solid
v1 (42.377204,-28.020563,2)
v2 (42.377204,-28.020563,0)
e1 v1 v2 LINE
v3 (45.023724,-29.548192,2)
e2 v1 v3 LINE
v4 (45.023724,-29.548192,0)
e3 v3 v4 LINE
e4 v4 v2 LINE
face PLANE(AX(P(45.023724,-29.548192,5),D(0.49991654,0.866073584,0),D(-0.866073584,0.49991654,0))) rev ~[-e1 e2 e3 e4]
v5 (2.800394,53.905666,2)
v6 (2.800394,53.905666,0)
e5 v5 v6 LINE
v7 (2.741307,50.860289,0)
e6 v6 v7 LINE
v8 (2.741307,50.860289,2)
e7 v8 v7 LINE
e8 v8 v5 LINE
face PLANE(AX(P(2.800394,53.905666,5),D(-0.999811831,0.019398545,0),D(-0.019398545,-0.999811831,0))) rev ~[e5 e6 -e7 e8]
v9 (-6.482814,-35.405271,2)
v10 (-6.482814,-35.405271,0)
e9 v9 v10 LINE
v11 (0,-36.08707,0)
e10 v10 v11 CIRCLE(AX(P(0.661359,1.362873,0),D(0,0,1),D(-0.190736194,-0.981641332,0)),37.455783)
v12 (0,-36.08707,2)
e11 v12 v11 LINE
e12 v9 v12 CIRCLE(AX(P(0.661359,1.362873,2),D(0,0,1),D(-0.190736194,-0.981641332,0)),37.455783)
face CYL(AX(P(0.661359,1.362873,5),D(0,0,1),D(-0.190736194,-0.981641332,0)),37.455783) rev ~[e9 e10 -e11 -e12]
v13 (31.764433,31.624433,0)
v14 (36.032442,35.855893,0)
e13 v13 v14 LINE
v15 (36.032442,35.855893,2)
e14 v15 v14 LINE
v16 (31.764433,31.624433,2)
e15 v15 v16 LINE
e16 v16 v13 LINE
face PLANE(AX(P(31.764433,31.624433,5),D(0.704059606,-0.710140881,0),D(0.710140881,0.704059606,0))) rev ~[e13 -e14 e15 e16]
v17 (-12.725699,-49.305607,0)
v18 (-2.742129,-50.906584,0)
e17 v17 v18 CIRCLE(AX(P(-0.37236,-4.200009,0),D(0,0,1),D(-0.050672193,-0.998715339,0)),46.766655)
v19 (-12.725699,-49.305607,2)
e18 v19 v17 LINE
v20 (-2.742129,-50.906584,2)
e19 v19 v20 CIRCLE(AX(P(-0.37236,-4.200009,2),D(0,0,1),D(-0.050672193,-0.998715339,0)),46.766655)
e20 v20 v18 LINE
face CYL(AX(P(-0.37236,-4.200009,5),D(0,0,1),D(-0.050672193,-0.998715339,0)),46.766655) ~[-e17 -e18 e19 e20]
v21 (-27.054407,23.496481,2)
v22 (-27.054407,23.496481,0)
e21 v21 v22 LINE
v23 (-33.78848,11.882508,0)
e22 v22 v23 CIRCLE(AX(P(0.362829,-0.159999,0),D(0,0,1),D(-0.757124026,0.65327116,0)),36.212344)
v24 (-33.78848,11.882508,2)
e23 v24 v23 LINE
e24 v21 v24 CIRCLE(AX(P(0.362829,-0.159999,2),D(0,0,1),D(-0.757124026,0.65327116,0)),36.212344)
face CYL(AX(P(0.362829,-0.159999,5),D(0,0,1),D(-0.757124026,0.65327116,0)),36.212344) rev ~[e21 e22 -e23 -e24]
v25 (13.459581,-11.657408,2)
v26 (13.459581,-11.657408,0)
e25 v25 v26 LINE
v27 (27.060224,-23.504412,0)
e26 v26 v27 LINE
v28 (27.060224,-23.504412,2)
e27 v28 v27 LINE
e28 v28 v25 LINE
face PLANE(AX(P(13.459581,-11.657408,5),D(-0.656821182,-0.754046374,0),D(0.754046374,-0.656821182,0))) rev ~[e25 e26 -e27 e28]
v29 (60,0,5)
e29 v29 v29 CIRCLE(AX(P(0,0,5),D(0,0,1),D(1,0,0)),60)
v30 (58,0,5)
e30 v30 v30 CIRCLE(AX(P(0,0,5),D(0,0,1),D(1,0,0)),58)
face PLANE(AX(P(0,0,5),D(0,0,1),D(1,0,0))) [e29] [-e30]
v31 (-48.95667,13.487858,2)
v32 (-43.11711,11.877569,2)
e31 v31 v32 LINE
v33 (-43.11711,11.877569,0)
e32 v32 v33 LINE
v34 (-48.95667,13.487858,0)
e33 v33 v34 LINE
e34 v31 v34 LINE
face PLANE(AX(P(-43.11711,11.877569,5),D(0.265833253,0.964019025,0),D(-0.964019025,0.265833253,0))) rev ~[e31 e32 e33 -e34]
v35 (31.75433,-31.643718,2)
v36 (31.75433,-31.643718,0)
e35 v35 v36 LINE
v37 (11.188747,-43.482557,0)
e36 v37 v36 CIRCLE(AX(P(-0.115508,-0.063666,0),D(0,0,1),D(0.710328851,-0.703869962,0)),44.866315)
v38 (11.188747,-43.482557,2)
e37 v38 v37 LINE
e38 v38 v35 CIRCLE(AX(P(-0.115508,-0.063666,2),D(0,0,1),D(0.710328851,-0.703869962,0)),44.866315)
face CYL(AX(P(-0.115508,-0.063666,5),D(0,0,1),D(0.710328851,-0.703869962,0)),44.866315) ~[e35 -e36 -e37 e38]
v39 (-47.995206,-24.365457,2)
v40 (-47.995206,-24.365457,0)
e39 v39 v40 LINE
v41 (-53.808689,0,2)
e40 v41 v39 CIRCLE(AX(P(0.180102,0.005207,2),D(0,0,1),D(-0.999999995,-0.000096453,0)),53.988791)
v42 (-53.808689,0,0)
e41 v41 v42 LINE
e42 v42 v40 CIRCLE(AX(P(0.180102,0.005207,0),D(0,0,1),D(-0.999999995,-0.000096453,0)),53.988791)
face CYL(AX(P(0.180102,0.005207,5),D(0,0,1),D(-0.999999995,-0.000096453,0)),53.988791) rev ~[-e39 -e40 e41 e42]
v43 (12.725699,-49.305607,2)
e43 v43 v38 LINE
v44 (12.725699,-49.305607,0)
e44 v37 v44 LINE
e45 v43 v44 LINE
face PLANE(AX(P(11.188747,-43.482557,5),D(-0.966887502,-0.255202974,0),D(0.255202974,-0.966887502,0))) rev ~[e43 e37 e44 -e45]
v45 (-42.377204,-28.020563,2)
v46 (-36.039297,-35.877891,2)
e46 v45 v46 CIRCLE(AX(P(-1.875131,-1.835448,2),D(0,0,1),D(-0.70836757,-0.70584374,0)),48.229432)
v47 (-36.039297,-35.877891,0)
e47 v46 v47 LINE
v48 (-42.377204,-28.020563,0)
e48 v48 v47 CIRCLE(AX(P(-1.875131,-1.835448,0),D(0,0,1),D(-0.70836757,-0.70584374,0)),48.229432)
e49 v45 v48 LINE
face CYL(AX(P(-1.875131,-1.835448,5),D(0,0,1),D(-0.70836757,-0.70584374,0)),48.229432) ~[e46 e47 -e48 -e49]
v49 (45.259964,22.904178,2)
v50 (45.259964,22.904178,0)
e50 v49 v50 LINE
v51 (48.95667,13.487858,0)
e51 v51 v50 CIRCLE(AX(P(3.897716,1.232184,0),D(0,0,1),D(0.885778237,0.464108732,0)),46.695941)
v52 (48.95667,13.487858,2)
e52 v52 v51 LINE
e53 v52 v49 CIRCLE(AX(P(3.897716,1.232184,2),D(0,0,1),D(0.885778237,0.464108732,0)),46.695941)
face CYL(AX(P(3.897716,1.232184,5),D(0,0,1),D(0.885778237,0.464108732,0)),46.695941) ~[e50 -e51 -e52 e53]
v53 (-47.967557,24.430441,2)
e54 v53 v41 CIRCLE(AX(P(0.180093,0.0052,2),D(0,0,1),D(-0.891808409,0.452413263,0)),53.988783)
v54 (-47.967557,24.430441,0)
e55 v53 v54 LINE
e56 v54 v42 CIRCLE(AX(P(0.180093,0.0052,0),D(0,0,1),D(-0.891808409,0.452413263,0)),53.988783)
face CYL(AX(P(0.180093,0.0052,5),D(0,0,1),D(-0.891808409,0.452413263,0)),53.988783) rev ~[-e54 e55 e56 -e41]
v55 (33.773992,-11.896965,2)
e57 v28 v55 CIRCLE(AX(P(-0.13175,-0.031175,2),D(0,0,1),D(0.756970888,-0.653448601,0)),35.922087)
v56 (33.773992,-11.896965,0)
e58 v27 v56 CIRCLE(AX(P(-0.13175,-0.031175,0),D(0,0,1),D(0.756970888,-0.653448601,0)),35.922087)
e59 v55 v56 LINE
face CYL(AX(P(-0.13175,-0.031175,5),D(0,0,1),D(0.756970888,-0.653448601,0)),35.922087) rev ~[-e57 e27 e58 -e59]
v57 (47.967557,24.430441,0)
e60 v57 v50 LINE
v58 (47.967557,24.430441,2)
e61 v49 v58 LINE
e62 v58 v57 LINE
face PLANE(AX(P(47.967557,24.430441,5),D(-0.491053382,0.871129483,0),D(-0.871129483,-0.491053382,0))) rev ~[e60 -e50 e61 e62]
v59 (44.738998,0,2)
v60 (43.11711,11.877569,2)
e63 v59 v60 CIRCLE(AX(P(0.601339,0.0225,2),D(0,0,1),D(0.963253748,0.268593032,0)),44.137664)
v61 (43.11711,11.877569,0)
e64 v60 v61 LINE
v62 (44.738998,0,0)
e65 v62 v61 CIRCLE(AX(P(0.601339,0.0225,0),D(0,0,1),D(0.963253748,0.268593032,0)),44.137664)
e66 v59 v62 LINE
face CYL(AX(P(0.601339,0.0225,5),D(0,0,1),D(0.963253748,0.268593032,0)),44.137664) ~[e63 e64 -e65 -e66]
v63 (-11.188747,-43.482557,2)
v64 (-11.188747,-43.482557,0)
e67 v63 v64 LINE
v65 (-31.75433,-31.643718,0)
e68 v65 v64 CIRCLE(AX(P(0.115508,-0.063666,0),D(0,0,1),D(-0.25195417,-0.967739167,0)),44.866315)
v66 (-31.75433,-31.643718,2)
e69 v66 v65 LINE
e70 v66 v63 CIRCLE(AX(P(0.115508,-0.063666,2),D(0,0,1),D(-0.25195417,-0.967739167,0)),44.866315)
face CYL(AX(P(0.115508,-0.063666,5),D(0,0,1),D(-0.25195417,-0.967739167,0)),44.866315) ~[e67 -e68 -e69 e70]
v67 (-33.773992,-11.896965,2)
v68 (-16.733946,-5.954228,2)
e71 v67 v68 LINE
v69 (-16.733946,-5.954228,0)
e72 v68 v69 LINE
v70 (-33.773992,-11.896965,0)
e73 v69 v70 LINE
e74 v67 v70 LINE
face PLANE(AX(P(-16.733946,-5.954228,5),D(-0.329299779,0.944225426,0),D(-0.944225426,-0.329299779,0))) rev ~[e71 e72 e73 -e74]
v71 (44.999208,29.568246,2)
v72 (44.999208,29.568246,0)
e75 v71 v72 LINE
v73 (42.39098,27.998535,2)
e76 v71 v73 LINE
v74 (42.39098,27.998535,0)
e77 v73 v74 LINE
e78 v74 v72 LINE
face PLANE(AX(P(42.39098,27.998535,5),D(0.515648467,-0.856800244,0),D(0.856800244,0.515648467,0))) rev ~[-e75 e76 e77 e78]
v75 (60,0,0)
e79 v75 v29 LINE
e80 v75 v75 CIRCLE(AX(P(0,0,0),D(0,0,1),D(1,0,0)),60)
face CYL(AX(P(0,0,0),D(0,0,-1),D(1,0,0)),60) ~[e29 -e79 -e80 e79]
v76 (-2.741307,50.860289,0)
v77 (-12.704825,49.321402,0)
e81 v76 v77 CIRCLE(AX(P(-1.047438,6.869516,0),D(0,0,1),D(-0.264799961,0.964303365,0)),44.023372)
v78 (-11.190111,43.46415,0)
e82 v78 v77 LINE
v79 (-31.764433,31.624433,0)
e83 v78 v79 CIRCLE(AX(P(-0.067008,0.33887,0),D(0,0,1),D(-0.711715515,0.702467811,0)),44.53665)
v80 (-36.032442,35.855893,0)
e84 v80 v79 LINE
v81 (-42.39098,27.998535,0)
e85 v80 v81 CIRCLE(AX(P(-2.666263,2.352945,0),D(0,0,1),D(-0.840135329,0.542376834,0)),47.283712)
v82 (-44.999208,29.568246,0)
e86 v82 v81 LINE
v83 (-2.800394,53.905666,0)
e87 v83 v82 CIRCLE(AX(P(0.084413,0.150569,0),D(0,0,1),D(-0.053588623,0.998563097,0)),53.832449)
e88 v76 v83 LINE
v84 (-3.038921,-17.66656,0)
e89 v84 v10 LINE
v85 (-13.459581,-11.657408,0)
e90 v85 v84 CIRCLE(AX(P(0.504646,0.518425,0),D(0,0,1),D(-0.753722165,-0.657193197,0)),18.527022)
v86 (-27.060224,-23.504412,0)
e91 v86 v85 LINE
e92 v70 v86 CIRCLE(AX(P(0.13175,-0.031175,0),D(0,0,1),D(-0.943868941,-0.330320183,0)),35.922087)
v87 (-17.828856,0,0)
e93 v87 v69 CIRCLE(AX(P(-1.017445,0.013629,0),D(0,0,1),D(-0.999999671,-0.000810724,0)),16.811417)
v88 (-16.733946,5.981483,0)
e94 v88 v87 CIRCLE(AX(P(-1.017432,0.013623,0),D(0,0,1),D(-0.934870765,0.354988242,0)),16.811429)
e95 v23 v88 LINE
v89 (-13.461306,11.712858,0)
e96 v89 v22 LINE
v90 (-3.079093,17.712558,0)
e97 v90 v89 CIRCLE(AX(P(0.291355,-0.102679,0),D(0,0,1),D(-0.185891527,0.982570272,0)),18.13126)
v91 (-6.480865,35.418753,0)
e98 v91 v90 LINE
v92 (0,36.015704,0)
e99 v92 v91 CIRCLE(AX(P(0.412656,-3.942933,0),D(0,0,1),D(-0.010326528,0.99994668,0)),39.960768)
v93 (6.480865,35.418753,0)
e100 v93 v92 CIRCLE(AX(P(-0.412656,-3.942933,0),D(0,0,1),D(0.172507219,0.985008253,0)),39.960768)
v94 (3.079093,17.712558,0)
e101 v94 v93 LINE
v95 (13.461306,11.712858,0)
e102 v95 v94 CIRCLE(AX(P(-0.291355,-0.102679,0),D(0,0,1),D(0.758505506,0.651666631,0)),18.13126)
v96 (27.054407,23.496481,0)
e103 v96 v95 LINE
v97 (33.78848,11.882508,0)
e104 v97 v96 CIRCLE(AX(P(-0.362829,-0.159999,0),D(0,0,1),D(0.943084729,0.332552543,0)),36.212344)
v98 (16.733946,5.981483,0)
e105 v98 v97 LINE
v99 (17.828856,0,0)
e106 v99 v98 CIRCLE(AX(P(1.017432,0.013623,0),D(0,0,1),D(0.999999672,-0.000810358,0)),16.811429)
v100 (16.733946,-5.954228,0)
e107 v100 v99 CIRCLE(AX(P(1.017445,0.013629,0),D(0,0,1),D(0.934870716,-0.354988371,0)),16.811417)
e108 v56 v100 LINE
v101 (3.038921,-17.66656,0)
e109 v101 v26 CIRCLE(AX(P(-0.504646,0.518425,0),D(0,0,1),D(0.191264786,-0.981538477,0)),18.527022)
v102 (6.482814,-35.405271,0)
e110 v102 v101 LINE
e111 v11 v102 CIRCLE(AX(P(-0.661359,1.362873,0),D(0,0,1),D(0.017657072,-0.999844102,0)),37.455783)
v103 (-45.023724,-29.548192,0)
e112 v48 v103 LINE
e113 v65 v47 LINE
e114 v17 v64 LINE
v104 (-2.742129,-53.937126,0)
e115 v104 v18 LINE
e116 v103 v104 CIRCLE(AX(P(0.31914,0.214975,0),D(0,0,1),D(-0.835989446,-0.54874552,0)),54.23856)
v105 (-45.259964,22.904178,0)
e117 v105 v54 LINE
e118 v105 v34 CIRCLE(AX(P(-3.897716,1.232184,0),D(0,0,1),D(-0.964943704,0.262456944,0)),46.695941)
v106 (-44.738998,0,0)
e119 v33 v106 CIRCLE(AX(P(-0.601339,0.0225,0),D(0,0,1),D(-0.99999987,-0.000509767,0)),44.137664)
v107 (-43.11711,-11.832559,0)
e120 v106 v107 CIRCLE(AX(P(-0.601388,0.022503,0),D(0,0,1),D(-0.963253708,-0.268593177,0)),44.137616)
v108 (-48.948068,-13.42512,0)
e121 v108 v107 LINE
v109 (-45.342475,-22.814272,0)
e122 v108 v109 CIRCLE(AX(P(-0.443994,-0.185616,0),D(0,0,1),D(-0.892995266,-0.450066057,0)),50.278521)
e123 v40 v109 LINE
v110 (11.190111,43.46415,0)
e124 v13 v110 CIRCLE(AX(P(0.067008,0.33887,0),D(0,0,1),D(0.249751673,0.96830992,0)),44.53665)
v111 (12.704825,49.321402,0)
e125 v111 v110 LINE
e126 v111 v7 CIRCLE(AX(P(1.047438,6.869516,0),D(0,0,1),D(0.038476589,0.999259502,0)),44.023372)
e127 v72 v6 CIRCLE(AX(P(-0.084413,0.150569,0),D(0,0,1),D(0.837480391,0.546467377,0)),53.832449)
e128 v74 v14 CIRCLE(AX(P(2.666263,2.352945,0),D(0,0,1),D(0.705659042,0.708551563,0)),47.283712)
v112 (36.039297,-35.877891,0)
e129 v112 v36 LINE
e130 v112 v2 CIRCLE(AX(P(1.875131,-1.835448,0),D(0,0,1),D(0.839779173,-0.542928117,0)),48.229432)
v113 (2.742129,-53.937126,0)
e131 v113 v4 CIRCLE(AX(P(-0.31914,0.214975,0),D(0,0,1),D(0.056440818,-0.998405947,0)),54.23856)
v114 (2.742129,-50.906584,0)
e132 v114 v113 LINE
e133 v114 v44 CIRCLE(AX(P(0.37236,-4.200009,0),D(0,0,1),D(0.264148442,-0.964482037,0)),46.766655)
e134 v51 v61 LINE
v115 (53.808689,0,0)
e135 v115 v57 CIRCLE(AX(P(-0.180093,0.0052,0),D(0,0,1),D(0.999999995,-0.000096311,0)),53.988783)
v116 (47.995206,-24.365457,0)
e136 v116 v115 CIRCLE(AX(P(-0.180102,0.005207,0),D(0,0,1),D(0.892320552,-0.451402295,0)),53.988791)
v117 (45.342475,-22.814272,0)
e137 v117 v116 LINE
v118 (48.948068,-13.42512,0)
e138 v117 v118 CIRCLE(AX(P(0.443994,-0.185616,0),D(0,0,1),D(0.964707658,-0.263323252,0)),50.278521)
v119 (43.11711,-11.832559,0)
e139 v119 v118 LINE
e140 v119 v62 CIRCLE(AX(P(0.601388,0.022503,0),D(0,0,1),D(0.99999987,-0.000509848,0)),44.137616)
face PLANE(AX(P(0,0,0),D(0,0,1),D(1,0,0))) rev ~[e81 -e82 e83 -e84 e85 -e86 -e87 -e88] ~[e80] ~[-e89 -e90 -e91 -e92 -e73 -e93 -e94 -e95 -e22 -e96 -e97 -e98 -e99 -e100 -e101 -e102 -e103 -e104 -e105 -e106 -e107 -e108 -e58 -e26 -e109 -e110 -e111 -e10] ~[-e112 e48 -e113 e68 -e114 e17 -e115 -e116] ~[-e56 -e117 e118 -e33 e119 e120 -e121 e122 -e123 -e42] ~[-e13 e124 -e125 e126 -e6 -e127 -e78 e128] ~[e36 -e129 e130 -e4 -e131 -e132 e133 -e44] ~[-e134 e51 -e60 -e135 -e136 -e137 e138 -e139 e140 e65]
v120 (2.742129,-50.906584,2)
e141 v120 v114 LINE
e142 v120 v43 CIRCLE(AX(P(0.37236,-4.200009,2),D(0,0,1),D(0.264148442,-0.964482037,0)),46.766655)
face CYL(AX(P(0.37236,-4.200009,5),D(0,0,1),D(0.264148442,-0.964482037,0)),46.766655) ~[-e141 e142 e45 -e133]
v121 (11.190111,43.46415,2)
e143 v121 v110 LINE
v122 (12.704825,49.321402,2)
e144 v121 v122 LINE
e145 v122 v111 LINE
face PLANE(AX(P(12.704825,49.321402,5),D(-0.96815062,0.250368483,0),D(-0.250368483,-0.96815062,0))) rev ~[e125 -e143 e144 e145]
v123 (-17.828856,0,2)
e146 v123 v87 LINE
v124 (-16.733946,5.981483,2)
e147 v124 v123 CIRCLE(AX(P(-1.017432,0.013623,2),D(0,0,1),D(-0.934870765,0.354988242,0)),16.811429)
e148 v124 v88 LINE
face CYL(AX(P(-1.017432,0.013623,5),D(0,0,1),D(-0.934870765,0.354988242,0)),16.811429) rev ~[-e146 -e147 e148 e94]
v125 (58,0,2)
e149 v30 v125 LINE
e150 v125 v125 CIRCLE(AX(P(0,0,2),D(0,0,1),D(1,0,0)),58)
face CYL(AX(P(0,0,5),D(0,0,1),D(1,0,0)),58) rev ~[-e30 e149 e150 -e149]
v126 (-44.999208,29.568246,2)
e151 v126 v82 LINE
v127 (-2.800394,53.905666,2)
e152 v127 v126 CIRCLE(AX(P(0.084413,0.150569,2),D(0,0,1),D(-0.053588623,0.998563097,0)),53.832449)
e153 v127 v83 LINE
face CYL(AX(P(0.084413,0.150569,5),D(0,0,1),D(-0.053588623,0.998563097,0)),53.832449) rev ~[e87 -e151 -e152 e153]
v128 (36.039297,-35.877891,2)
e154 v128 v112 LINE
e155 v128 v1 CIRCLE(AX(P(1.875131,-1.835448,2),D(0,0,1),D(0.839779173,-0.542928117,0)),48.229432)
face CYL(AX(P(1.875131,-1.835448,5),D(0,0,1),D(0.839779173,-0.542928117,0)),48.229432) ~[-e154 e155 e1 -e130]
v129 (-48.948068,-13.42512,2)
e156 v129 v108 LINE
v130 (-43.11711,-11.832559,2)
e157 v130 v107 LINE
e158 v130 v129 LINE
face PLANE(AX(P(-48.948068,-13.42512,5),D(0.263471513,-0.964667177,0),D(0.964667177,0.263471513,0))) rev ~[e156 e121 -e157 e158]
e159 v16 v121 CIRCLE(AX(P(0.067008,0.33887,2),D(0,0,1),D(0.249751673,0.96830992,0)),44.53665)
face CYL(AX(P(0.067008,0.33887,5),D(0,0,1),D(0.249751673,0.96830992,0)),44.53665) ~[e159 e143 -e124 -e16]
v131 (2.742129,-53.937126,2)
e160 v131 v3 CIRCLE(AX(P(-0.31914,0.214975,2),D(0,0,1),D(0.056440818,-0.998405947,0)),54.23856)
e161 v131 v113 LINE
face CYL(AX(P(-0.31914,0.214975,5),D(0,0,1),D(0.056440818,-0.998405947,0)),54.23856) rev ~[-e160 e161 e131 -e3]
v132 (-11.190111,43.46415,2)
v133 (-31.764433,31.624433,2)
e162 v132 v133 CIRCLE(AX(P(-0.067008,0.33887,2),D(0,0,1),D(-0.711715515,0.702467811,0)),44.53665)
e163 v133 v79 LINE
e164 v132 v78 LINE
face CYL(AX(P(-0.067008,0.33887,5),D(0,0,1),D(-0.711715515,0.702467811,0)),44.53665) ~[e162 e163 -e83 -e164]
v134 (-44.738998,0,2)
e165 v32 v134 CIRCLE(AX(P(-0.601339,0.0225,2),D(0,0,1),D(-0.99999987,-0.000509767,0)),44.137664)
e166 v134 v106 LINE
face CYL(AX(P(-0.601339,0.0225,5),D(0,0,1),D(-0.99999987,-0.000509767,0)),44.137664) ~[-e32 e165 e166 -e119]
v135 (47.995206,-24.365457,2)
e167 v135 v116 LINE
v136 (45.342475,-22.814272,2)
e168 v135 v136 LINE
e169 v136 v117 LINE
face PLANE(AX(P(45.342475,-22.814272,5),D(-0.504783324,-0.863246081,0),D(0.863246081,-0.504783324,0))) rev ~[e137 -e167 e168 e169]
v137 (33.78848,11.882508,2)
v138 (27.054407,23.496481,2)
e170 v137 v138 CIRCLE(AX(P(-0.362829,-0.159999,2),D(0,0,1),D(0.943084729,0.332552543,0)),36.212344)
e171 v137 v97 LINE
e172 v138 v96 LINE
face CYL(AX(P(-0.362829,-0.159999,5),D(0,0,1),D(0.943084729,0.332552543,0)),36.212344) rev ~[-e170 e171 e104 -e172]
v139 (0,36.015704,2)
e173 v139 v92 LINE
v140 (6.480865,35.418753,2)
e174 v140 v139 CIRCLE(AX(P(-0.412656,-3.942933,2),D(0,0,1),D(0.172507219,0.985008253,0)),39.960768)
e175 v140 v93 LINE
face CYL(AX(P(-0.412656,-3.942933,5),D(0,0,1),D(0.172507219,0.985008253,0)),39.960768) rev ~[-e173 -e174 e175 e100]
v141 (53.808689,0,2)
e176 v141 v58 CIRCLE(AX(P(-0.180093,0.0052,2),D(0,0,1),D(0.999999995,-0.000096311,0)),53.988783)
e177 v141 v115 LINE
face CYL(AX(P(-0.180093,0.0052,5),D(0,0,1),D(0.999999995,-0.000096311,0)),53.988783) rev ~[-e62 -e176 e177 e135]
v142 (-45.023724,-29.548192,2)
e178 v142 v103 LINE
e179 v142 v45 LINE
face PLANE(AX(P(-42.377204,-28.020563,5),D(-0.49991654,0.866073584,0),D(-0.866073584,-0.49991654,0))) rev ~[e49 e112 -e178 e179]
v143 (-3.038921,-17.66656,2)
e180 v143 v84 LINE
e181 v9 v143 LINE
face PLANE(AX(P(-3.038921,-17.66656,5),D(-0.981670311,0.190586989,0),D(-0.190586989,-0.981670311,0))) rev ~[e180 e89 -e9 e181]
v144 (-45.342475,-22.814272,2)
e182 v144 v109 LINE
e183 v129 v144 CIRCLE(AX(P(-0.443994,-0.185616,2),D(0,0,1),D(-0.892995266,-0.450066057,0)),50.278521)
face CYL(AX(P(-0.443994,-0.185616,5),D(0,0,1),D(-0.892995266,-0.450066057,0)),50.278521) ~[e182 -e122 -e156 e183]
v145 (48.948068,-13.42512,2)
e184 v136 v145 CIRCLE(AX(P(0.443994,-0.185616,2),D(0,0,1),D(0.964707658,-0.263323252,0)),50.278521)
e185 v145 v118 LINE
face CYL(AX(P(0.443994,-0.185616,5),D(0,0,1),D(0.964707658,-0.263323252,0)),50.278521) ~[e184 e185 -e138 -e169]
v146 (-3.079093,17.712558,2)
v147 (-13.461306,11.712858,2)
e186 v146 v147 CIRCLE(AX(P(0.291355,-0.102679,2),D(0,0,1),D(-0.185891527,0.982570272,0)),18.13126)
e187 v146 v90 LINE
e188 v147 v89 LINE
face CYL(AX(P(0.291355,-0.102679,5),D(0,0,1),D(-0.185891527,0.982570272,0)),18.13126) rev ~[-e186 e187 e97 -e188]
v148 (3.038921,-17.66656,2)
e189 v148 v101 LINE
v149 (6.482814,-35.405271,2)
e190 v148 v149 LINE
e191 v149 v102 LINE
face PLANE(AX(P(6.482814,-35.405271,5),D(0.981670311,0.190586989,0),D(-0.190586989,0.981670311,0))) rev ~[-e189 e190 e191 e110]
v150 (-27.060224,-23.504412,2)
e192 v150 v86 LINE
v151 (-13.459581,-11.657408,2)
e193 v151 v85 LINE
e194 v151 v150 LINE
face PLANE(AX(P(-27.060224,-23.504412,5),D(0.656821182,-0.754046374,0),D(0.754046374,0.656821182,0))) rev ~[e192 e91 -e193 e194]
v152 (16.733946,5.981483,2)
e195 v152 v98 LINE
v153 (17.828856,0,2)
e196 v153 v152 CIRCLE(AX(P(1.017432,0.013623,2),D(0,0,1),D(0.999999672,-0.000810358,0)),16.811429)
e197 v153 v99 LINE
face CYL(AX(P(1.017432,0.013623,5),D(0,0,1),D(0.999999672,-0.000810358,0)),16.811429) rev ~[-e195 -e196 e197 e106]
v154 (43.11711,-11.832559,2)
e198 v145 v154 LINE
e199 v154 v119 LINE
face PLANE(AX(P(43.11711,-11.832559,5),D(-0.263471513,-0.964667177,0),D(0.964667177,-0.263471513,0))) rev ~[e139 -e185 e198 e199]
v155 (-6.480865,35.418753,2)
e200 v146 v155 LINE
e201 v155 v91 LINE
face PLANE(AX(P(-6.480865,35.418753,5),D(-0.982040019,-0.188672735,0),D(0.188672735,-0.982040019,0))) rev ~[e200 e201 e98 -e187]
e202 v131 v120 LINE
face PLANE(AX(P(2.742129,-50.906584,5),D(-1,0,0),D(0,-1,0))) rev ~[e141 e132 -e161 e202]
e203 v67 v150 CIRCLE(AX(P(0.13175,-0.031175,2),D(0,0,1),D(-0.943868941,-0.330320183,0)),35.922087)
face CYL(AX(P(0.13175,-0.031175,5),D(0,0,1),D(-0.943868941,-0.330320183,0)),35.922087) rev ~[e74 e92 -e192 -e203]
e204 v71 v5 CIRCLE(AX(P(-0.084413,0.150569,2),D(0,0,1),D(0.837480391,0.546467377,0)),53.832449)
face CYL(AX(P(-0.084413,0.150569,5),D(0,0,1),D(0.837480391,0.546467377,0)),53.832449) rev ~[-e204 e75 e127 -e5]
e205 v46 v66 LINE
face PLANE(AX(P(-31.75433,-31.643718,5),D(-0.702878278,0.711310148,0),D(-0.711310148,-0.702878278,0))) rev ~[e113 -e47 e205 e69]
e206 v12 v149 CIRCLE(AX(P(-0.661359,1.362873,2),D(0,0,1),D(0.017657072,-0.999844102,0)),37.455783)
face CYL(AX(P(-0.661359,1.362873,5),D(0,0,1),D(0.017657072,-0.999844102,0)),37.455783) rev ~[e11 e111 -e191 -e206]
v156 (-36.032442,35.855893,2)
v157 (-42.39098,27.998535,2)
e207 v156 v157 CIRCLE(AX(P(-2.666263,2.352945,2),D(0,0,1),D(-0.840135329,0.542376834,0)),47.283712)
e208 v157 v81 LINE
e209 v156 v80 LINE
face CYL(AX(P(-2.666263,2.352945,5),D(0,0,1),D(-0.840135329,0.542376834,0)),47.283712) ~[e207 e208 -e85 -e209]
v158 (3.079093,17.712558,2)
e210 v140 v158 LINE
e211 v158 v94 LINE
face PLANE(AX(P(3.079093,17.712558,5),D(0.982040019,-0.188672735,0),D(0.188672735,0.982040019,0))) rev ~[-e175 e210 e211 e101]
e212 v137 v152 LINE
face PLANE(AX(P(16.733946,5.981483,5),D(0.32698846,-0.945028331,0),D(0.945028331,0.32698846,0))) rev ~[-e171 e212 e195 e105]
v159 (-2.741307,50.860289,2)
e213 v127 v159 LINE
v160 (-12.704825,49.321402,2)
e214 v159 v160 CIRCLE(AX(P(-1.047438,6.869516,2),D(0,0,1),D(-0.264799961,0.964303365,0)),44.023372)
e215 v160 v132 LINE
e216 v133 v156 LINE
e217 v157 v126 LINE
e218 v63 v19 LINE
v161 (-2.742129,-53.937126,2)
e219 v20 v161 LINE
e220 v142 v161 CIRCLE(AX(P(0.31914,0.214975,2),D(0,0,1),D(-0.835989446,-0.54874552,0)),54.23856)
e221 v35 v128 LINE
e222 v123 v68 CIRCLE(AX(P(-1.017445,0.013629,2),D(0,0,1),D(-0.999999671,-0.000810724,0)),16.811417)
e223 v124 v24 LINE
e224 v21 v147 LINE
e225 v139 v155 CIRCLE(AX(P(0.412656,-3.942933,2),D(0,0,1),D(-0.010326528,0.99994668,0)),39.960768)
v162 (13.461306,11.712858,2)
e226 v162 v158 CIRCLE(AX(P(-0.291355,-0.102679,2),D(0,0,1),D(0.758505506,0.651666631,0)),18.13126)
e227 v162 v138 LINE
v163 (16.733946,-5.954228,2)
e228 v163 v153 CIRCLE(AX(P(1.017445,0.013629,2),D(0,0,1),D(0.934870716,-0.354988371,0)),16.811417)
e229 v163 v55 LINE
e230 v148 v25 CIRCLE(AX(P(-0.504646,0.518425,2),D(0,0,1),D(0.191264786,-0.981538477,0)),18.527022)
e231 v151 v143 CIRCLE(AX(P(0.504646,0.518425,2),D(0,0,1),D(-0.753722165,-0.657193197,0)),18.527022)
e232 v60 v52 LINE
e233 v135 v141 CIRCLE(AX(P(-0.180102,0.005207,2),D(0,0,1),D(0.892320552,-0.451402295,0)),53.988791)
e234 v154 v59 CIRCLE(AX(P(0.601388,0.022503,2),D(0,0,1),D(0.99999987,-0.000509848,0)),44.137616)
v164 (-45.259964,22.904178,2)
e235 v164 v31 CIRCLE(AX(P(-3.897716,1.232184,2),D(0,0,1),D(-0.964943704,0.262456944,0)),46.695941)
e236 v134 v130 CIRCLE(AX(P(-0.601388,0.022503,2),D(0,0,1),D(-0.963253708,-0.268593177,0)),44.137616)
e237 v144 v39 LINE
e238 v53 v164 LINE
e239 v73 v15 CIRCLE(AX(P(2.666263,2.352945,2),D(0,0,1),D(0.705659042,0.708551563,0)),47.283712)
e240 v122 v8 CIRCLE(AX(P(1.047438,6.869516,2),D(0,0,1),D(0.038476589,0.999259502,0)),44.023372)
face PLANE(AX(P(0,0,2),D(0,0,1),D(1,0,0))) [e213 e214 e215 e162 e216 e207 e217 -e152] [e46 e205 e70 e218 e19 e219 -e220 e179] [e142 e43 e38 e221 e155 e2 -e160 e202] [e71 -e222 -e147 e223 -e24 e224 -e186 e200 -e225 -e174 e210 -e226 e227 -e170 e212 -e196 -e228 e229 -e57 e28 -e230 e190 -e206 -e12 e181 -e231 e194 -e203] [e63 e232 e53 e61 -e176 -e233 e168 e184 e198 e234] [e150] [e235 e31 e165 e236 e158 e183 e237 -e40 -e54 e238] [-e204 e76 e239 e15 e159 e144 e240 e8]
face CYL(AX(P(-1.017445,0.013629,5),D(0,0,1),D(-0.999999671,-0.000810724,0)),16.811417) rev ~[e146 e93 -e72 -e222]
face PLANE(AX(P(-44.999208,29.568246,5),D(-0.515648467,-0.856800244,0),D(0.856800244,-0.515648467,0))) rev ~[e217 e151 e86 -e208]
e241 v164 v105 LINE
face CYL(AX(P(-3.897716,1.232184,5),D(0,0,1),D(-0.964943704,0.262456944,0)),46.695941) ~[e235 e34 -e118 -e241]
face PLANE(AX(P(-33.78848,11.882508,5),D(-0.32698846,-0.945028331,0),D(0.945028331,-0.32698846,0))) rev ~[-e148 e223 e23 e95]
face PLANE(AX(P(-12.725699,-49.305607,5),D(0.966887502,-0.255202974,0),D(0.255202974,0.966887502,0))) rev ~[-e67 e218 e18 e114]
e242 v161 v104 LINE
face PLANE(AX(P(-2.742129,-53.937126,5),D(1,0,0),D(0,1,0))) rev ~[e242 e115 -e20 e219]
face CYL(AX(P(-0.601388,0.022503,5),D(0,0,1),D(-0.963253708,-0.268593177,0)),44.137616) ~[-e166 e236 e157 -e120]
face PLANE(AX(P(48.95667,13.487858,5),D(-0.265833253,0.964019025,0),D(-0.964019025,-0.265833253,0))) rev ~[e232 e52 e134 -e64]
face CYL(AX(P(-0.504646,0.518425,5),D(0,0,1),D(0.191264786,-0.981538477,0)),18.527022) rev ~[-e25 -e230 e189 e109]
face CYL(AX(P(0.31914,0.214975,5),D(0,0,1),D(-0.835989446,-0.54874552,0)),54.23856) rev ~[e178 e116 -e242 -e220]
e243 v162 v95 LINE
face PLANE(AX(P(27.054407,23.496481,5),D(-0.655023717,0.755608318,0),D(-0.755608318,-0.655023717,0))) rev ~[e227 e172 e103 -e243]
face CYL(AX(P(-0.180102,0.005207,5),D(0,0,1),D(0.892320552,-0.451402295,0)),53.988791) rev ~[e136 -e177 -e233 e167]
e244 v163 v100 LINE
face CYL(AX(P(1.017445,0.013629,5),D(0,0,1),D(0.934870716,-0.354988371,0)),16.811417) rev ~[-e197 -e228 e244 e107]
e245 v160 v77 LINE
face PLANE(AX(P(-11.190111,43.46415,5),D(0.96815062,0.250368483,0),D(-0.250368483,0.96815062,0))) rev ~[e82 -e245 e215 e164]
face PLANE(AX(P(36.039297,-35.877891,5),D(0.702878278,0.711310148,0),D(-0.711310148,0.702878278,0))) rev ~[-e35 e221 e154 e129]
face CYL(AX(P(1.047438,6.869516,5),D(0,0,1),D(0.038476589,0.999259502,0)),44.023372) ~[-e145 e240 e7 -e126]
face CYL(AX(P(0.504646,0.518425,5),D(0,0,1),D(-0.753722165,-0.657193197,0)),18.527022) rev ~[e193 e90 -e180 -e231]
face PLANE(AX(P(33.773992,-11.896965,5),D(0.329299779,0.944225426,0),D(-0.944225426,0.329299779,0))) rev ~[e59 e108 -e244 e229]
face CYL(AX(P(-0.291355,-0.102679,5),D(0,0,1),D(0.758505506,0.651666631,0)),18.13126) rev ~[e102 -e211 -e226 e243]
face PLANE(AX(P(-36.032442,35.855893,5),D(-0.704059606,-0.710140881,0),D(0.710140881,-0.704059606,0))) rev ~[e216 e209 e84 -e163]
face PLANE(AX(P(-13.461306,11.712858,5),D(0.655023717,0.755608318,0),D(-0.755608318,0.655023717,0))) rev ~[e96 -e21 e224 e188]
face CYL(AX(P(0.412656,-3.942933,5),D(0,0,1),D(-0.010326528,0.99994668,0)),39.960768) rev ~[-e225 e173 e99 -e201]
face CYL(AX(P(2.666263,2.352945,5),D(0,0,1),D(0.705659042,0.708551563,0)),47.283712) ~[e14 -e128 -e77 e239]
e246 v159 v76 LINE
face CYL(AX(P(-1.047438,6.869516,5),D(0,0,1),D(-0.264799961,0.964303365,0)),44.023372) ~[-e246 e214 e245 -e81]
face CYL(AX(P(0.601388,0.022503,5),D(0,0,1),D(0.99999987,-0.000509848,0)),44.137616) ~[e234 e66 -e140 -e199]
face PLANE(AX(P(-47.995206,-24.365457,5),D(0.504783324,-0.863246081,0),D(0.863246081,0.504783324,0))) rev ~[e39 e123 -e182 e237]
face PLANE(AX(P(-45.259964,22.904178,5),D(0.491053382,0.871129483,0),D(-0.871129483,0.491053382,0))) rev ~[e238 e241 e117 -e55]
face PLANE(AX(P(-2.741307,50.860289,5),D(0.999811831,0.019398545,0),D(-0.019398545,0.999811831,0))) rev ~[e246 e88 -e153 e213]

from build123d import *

# Parameters (mm, degrees)
F0_R     = 60
F1_DEPTH = 5
F3_DEPTH = 5.001
F4_R     = 58
F5_DEPTH = 3


with BuildPart() as f1:
    # F0 (on Top) → F1 (new body)
    with BuildSketch(Plane.XY):
        Circle(F0_R)
    extrude(amount=F1_DEPTH)

    # F2 (on face) → F3 (cut, through all)
    with BuildSketch(Plane.XY.offset(5)):
        with BuildLine():
            Line((-2.741307, 50.860289), (-2.800394, 53.905666))
            ThreePointArc((-2.800394, 53.905666), (-26.810197, 46.78331), (-44.999208, 29.568246))
            Line((-44.999208, 29.568246), (-42.39098, 27.998535))
            ThreePointArc((-42.39098, 27.998535), (-39.422273, 32.097611), (-36.032442, 35.855893))
            Line((-36.032442, 35.855893), (-31.764433, 31.624433))
            ThreePointArc((-31.764433, 31.624433), (-22.28061, 38.940283), (-11.190111, 43.46415))
            Line((-11.190111, 43.46415), (-12.704825, 49.321402))
            ThreePointArc((-12.704825, 49.321402), (-7.767263, 50.377001), (-2.741307, 50.860289))
        make_face()
        with BuildLine():
            Line((-53.808689, 0), (-44.738998, 0))
            ThreePointArc((-44.738998, 0), (-44.333174, 5.994104), (-43.11711, 11.877569))
            Line((-43.11711, 11.877569), (-48.95667, 13.487858))
            ThreePointArc((-48.95667, 13.487858), (-47.364057, 18.296418), (-45.259964, 22.904178))
            Line((-45.259964, 22.904178), (-47.967557, 24.430441))
            ThreePointArc((-47.967557, 24.430441), (-52.328709, 12.559654), (-53.808689, 0))
        make_face()
        with BuildLine():
            ThreePointArc((-43.11711, -11.832559), (-44.330124, -5.971391), (-44.738998, 0))
            Line((-44.738998, 0), (-53.808689, 0))
            ThreePointArc((-53.808689, 0), (-52.334607, -12.524554), (-47.995206, -24.365457))
            Line((-47.995206, -24.365457), (-45.342475, -22.814272))
            ThreePointArc((-45.342475, -22.814272), (-47.380636, -18.21008), (-48.948068, -13.42512))
            Line((-48.948068, -13.42512), (-43.11711, -11.832559))
        make_face()
        with BuildLine():
            Line((-42.377204, -28.020563), (-45.023724, -29.548192))
            ThreePointArc((-45.023724, -29.548192), (-26.781507, -46.767749), (-2.742129, -53.937126))
            Line((-2.742129, -53.937126), (-2.742129, -50.906584))
            ThreePointArc((-2.742129, -50.906584), (-7.777308, -50.376699), (-12.725699, -49.305607))
            Line((-12.725699, -49.305607), (-11.188747, -43.482557))
            ThreePointArc((-11.188747, -43.482557), (-22.268417, -38.947418), (-31.75433, -31.643718))
            Line((-31.75433, -31.643718), (-36.039297, -35.877891))
            ThreePointArc((-36.039297, -35.877891), (-39.414393, -32.115507), (-42.377204, -28.020563))
        make_face()
        with BuildLine():
            Line((0, -36.08707), (0, 0))
            Line((0, 0), (-17.828856, 0))
            ThreePointArc((-17.828856, 0), (-17.551636, -3.026807), (-16.733946, -5.954228))
            Line((-16.733946, -5.954228), (-33.773992, -11.896965))
            ThreePointArc((-33.773992, -11.896965), (-30.963522, -18.016735), (-27.060224, -23.504412))
            Line((-27.060224, -23.504412), (-13.459581, -11.657408))
            ThreePointArc((-13.459581, -11.657408), (-8.750525, -15.531259), (-3.038921, -17.66656))
            Line((-3.038921, -17.66656), (-6.482814, -35.405271))
            ThreePointArc((-6.482814, -35.405271), (-3.256267, -35.887467), (0, -36.08707))
        make_face()
        with BuildLine():
            Line((17.828856, 0), (0, 0))
            Line((0, 0), (0, -36.08707))
            ThreePointArc((0, -36.08707), (3.256267, -35.887467), (6.482814, -35.405271))
            Line((6.482814, -35.405271), (3.038921, -17.66656))
            ThreePointArc((3.038921, -17.66656), (8.750525, -15.531259), (13.459581, -11.657408))
            Line((13.459581, -11.657408), (27.060224, -23.504412))
            ThreePointArc((27.060224, -23.504412), (30.963522, -18.016735), (33.773992, -11.896965))
            Line((33.773992, -11.896965), (16.733946, -5.954228))
            ThreePointArc((16.733946, -5.954228), (17.551636, -3.026807), (17.828856, 0))
        make_face()
        with BuildLine():
            Line((0, 36.015704), (0, 0))
            Line((0, 0), (17.828856, 0))
            ThreePointArc((17.828856, 0), (17.554095, 3.040658), (16.733946, 5.981483))
            Line((16.733946, 5.981483), (33.78848, 11.882508))
            ThreePointArc((33.78848, 11.882508), (30.964356, 18.004289), (27.054407, 23.496481))
            Line((27.054407, 23.496481), (13.461306, 11.712858))
            ThreePointArc((13.461306, 11.712858), (8.780542, 15.595833), (3.079093, 17.712558))
            Line((3.079093, 17.712558), (6.480865, 35.418753))
            ThreePointArc((6.480865, 35.418753), (3.252606, 35.849388), (0, 36.015704))
        make_face()
        with BuildLine():
            Line((-17.828856, 0), (0, 0))
            Line((0, 0), (0, 36.015704))
            ThreePointArc((0, 36.015704), (-3.252606, 35.849388), (-6.480865, 35.418753))
            Line((-6.480865, 35.418753), (-3.079093, 17.712558))
            ThreePointArc((-3.079093, 17.712558), (-8.780542, 15.595833), (-13.461306, 11.712858))
            Line((-13.461306, 11.712858), (-27.054407, 23.496481))
            ThreePointArc((-27.054407, 23.496481), (-30.964356, 18.004289), (-33.78848, 11.882508))
            Line((-33.78848, 11.882508), (-16.733946, 5.981483))
            ThreePointArc((-16.733946, 5.981483), (-17.554095, 3.040658), (-17.828856, 0))
        make_face()
        with BuildLine():
            Line((2.742129, -50.906584), (2.742129, -53.937126))
            ThreePointArc((2.742129, -53.937126), (26.781507, -46.767749), (45.023724, -29.548192))
            Line((45.023724, -29.548192), (42.377204, -28.020563))
            ThreePointArc((42.377204, -28.020563), (39.414393, -32.115507), (36.039297, -35.877891))
            Line((36.039297, -35.877891), (31.75433, -31.643718))
            ThreePointArc((31.75433, -31.643718), (22.268417, -38.947418), (11.188747, -43.482557))
            Line((11.188747, -43.482557), (12.725699, -49.305607))
            ThreePointArc((12.725699, -49.305607), (7.777308, -50.376699), (2.742129, -50.906584))
        make_face()
        with BuildLine():
            ThreePointArc((43.11711, 11.877569), (44.333174, 5.994104), (44.738998, 0))
            Line((44.738998, 0), (53.808689, 0))
            ThreePointArc((53.808689, 0), (52.328709, 12.559654), (47.967557, 24.430441))
            Line((47.967557, 24.430441), (45.259964, 22.904178))
            ThreePointArc((45.259964, 22.904178), (47.364057, 18.296418), (48.95667, 13.487858))
            Line((48.95667, 13.487858), (43.11711, 11.877569))
        make_face()
        with BuildLine():
            Line((53.808689, 0), (44.738998, 0))
            ThreePointArc((44.738998, 0), (44.330124, -5.971391), (43.11711, -11.832559))
            Line((43.11711, -11.832559), (48.948068, -13.42512))
            ThreePointArc((48.948068, -13.42512), (47.380636, -18.21008), (45.342475, -22.814272))
            Line((45.342475, -22.814272), (47.995206, -24.365457))
            ThreePointArc((47.995206, -24.365457), (52.334607, -12.524554), (53.808689, 0))
        make_face()
        with BuildLine():
            Line((42.39098, 27.998535), (44.999208, 29.568246))
            ThreePointArc((44.999208, 29.568246), (26.810197, 46.78331), (2.800394, 53.905666))
            Line((2.800394, 53.905666), (2.741307, 50.860289))
            ThreePointArc((2.741307, 50.860289), (7.767263, 50.377001), (12.704825, 49.321402))
            Line((12.704825, 49.321402), (11.190111, 43.46415))
            ThreePointArc((11.190111, 43.46415), (22.28061, 38.940283), (31.764433, 31.624433))
            Line((31.764433, 31.624433), (36.032442, 35.855893))
            ThreePointArc((36.032442, 35.855893), (39.422273, 32.097611), (42.39098, 27.998535))
        make_face()
    extrude(amount=-F3_DEPTH, mode=Mode.SUBTRACT)

    # F4 (on face) → F5 (cut)
    with BuildSketch(Plane.XY.offset(5)):
        Circle(F4_R)
    extrude(amount=-F5_DEPTH, mode=Mode.SUBTRACT)


solid = f1.part
